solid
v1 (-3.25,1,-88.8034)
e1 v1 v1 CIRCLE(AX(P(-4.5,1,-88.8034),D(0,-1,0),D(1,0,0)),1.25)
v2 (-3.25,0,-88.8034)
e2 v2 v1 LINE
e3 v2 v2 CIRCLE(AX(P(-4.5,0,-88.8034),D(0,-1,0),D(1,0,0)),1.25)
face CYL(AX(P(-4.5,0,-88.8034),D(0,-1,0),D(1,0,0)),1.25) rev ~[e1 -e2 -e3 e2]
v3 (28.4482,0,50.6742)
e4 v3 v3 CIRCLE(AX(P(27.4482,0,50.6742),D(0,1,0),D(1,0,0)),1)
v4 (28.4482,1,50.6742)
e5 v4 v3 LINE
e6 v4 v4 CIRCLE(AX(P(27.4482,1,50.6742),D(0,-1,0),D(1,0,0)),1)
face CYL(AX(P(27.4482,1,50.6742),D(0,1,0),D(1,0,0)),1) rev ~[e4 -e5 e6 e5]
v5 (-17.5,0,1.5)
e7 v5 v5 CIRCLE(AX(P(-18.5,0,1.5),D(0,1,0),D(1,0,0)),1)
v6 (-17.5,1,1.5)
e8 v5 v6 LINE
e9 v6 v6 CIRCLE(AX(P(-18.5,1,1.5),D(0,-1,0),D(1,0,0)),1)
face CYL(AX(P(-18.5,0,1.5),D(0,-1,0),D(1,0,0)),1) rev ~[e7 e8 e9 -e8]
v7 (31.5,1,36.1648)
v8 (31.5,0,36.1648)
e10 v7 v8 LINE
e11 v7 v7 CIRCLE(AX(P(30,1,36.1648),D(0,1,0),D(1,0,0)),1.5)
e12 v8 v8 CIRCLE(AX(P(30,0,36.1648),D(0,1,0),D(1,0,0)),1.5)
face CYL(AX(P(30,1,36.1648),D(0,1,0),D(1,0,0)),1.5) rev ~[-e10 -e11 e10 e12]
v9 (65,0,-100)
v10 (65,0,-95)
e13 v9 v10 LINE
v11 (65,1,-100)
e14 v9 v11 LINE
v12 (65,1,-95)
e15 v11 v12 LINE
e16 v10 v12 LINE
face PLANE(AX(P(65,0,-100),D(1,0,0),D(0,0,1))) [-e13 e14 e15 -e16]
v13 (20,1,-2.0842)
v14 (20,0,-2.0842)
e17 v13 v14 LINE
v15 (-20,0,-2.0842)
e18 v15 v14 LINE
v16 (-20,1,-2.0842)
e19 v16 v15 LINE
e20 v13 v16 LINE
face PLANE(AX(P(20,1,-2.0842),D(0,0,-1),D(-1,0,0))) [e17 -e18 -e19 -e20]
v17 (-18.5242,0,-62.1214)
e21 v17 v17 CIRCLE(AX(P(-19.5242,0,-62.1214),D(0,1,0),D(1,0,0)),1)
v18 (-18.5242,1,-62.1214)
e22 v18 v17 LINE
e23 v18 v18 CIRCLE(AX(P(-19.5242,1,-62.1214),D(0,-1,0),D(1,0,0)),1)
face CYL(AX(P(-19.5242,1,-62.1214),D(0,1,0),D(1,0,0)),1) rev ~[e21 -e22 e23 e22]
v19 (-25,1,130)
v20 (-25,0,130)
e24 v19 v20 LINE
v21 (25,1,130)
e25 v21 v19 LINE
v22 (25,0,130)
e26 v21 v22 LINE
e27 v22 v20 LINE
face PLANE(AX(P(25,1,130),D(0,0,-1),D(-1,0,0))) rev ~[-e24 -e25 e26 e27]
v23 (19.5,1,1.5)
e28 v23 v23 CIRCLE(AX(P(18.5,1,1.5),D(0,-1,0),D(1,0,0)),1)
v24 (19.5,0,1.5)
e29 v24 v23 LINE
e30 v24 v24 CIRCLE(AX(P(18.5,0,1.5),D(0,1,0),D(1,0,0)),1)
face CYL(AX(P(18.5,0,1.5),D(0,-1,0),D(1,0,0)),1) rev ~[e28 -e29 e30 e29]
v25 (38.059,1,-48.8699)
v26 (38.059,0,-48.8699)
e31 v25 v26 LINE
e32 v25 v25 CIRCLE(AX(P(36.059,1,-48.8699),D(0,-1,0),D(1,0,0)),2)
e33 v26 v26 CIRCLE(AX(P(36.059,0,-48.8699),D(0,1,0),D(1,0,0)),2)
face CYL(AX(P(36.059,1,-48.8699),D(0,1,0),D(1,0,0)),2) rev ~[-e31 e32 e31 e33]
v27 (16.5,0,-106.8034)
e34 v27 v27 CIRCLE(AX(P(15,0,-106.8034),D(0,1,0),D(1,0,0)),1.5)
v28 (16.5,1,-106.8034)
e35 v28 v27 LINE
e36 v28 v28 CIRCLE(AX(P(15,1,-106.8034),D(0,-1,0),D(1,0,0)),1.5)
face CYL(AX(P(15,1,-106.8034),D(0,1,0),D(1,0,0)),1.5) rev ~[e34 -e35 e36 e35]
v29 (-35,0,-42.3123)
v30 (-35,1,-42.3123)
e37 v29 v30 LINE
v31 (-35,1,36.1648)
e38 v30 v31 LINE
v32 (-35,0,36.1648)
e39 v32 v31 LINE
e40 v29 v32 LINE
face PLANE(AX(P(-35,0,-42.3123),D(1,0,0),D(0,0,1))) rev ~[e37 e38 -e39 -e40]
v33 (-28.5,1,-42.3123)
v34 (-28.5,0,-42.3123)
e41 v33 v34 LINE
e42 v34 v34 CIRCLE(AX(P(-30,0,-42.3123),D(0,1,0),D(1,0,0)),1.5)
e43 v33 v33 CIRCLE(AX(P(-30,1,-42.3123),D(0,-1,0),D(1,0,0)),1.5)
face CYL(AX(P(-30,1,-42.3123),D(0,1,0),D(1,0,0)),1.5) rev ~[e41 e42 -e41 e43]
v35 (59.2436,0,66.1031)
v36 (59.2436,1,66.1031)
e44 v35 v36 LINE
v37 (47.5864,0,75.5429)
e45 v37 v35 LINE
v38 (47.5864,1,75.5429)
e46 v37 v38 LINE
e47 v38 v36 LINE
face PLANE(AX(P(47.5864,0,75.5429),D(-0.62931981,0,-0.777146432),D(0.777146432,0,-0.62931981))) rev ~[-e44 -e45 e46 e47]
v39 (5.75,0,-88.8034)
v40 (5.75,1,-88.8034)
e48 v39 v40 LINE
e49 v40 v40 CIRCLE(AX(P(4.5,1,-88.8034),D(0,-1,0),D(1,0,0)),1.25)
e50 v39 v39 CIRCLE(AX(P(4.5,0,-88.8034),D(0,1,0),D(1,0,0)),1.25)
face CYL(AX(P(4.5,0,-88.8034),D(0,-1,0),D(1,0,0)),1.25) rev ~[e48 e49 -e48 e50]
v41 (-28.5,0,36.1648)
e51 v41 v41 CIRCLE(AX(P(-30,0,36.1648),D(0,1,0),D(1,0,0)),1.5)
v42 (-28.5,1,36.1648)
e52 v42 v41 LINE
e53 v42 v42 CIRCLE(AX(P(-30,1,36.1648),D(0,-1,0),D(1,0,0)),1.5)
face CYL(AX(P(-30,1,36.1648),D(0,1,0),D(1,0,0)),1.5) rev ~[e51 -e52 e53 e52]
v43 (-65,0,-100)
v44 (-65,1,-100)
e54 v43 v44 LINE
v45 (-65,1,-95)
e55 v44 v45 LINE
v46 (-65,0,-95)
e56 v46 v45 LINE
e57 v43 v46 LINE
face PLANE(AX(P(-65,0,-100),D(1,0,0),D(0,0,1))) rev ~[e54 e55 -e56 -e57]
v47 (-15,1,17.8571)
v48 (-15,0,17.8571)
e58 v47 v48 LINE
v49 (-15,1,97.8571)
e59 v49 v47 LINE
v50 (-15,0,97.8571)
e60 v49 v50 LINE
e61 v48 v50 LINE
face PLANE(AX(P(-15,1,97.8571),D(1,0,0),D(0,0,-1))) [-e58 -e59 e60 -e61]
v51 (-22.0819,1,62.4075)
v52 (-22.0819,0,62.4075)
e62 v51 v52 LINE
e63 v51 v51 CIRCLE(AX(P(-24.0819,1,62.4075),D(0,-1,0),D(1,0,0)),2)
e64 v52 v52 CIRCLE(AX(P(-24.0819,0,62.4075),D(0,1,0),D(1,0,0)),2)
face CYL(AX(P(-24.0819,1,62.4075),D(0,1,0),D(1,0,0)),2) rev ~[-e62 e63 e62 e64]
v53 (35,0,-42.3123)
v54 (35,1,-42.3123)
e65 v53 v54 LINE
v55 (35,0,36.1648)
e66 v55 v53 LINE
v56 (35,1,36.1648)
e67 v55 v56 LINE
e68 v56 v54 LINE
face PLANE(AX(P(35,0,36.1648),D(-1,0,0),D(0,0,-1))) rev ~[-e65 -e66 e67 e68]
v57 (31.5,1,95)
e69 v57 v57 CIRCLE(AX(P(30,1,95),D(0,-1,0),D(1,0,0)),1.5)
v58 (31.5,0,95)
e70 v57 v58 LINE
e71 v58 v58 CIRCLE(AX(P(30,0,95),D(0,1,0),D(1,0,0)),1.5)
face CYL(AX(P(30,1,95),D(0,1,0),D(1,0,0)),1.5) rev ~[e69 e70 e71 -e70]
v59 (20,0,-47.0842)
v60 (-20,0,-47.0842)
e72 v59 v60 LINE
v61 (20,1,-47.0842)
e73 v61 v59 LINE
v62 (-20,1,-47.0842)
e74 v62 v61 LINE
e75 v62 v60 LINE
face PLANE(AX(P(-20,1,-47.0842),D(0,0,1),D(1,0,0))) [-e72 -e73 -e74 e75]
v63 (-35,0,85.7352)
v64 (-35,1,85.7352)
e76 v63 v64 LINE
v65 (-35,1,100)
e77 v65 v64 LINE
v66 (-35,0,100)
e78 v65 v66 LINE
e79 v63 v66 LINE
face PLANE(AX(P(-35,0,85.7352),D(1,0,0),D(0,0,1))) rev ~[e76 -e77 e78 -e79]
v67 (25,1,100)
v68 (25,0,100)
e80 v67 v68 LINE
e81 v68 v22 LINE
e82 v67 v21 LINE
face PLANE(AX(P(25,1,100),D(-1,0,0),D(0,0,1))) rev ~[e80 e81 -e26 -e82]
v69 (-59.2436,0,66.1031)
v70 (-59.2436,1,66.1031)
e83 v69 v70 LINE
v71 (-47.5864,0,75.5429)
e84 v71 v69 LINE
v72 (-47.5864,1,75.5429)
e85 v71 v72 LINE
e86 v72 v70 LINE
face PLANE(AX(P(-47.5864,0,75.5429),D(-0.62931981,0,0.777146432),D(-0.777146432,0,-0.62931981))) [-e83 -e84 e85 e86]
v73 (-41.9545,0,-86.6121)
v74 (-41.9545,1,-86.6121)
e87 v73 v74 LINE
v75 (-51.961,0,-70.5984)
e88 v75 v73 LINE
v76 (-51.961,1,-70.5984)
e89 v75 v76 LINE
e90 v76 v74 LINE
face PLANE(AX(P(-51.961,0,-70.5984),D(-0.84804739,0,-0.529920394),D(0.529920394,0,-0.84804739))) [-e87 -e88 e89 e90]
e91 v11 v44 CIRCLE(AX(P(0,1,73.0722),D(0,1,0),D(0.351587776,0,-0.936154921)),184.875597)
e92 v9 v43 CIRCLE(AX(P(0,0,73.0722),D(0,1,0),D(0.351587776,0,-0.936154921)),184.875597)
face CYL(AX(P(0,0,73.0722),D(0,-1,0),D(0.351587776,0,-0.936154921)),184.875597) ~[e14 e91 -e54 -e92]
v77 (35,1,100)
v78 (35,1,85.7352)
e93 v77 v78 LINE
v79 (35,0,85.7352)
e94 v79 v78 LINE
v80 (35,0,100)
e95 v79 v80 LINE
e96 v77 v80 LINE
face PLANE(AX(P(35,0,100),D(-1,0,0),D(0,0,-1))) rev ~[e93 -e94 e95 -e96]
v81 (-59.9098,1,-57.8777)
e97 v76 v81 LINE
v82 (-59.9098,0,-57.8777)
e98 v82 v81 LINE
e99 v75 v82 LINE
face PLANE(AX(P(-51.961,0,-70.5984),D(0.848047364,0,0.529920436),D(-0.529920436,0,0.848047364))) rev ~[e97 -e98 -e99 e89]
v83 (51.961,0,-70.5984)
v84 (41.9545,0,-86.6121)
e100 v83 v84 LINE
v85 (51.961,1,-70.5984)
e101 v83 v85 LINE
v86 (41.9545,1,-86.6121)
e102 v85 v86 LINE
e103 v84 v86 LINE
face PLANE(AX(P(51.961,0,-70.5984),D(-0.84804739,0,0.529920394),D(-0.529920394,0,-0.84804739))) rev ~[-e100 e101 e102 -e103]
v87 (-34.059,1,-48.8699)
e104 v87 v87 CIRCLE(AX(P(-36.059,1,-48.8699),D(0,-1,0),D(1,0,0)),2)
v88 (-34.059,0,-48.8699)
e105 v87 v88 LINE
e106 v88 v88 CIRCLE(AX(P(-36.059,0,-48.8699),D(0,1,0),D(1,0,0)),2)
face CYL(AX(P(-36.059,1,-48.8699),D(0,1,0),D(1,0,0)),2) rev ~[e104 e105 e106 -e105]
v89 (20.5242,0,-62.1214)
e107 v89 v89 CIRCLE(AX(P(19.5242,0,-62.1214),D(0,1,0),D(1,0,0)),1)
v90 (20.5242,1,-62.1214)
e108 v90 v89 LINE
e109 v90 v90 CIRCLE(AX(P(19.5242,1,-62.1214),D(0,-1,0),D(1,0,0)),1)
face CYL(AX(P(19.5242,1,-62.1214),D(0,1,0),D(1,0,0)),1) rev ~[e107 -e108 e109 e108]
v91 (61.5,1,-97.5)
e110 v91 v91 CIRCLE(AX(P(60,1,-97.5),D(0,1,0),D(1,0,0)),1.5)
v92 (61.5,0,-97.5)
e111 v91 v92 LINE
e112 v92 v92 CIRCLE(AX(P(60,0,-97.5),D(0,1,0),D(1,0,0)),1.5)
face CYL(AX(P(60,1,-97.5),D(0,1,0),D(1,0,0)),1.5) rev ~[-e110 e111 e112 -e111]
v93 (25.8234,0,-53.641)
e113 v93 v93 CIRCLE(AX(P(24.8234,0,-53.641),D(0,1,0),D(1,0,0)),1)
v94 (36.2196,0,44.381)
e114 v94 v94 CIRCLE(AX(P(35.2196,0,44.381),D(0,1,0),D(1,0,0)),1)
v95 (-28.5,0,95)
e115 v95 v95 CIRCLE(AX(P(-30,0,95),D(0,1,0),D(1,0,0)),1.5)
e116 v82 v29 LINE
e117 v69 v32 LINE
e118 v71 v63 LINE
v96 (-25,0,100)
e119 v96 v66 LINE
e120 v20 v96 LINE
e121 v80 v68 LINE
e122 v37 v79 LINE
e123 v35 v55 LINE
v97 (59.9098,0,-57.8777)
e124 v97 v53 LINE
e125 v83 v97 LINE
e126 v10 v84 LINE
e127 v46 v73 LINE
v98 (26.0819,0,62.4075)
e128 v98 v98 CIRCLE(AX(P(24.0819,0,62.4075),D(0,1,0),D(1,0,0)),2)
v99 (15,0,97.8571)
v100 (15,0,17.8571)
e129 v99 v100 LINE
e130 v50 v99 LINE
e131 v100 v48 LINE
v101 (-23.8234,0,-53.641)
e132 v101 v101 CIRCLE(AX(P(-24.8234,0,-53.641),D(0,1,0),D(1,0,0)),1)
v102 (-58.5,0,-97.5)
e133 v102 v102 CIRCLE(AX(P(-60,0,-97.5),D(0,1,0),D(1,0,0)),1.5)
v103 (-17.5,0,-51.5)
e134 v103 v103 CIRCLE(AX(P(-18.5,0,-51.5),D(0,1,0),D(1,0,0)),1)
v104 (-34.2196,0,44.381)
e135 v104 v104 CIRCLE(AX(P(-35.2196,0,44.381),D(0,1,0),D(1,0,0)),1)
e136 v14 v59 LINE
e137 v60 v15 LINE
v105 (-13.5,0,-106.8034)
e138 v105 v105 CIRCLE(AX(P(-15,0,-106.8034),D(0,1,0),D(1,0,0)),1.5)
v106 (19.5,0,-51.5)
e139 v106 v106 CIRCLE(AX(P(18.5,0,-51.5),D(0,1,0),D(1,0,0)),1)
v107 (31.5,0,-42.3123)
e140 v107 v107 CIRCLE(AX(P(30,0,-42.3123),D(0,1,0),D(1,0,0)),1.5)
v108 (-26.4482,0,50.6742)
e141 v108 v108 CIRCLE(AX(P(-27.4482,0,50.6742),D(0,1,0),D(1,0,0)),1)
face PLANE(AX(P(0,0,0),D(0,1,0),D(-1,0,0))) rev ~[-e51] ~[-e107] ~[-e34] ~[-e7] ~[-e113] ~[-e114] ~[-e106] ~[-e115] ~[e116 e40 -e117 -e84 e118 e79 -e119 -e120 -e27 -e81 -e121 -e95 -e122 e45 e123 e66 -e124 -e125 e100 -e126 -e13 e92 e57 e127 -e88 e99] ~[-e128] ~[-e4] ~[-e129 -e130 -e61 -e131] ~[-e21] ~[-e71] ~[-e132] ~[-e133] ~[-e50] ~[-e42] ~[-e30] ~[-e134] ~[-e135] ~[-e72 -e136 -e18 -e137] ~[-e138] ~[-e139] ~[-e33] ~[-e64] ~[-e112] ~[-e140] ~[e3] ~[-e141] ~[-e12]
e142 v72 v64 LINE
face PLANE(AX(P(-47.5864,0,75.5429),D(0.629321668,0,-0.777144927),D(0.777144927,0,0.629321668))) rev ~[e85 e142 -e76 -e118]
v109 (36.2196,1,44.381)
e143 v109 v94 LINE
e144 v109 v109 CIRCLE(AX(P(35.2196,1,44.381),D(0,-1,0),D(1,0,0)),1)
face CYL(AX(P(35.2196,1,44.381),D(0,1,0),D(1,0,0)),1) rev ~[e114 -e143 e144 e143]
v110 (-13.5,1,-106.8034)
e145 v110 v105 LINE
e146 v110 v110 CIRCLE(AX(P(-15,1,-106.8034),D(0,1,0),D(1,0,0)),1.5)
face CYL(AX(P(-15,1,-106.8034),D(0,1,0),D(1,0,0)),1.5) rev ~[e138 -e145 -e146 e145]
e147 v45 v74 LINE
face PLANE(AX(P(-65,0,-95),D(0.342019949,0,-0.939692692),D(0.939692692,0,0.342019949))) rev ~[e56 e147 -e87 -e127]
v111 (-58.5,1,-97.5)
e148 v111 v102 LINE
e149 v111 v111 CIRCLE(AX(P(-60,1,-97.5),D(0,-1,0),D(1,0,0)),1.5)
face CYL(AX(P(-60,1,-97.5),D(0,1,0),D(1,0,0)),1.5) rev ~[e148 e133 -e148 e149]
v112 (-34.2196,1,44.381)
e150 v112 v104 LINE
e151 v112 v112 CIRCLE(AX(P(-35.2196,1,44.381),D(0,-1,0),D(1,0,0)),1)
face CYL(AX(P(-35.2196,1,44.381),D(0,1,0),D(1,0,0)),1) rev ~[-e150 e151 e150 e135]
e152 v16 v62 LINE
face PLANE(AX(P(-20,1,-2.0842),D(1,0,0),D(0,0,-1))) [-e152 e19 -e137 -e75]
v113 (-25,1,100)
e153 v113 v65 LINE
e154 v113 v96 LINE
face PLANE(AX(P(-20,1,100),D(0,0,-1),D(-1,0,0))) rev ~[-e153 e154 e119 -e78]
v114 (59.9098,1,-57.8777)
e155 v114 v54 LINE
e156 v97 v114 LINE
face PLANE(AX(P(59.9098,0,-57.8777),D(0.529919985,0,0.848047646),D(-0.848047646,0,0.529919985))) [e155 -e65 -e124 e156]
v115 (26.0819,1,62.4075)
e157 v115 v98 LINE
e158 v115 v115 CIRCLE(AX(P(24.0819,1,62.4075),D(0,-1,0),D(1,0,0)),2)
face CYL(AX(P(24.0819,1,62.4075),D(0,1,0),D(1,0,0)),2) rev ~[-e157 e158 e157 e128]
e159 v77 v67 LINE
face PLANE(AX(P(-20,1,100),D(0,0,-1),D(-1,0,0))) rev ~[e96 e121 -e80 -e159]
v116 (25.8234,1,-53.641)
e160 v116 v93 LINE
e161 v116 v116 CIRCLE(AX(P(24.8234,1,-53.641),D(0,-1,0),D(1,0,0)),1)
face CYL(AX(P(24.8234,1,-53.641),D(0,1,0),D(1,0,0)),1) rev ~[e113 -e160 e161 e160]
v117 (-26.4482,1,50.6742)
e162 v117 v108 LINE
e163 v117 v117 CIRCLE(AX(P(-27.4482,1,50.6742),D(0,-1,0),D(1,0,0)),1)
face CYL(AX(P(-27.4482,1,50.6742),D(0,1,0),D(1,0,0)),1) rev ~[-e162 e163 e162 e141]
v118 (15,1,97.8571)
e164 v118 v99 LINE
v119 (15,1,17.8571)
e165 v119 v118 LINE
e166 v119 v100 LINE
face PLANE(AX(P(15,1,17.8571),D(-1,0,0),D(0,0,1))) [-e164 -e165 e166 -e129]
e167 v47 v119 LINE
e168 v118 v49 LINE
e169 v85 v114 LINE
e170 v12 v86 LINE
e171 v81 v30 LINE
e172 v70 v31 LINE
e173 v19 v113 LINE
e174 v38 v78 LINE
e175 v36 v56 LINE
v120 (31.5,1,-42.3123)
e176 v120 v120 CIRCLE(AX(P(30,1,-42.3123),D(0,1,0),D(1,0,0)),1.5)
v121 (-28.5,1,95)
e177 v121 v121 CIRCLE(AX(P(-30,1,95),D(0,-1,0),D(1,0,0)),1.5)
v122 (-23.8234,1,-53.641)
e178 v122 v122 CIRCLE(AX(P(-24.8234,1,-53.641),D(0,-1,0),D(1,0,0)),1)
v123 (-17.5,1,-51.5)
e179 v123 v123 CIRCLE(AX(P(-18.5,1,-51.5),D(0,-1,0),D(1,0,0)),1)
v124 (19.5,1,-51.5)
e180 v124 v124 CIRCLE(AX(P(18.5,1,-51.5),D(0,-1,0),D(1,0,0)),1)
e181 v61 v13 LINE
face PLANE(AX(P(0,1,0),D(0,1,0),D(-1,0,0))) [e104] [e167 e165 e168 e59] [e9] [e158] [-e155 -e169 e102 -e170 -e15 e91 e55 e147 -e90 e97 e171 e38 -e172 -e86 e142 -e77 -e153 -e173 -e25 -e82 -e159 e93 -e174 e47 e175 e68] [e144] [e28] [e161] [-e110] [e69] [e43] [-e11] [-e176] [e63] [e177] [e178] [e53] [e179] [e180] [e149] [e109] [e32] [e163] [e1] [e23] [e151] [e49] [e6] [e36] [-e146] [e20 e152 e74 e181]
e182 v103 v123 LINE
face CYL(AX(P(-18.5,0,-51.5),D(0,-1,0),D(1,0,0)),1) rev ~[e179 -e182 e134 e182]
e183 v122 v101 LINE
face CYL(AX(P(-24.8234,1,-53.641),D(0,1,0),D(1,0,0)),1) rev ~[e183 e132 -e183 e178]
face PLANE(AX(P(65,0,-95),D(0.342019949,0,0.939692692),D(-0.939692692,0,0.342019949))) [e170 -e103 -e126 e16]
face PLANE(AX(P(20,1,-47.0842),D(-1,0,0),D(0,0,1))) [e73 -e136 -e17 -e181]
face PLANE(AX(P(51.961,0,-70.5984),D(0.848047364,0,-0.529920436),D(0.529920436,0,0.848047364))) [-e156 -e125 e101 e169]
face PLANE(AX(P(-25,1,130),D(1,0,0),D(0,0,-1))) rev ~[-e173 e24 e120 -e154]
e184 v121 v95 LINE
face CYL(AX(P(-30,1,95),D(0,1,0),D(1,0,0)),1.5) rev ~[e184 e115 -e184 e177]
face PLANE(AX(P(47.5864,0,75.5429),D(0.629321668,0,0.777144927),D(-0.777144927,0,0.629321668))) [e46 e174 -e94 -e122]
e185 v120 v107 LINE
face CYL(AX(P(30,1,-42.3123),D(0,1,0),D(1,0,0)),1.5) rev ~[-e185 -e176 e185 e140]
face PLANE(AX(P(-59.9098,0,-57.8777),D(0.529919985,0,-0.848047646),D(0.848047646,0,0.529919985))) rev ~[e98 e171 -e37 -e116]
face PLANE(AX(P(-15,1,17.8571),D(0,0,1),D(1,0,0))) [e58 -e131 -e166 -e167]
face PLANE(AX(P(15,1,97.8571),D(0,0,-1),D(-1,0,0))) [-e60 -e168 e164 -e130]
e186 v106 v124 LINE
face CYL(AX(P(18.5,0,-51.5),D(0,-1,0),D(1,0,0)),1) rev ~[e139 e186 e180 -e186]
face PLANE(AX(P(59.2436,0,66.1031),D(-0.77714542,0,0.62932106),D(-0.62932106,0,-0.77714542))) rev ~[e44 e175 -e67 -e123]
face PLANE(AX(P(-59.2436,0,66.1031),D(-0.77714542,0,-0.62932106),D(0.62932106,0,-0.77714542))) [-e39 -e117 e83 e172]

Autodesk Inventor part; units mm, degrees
ref_plane "YZ Plane" through (0, 0, 0) normal (1, 0, 0) x (0, 1, 0)
ref_plane "XZ Plane" through (0, 0, 0) normal (0, 1, 0) x (-1, 0, 0)
ref_plane "XY Plane" through (0, 0, 0) normal (0, 0, 1) x (1, 0, 0)
sketch "Sketch1" plane through (0, 0, 0) normal (0, 1, 0) x (-1, 0, 0)
  circle A0 centre (0, 0) radius 165
  line L0 (35, 100) -> (-35, 100)
  line L1 (-35, 100) -> (-35, -100)
  line L2 (-35, -100) -> (35, -100)
  line L3 (35, -100) -> (35, 100)
  line L4 (35, 100) -> (-35, -100) construction
  line L5 (-35, 100) -> (35, -100) construction
  line L6 (35, -100) -> (65, -100)
  line L7 (-35, -100) -> (-65, -100)
  arc A1 (-65, -100) -> (65, -100) centre (0, 73.0722) ccw
  line L8 (120, 113.2475) -> (-120, -113.2475) construction
  line L9 (-120, 113.2475) -> (120, -113.2475) construction
  line L10 (35, -100) -> (35, -60)
  line L11 (-95, -134.9074) -> (95, 134.9074) construction
  line L12 (95, -134.9074) -> (-95, 134.9074) construction
  line L13 (65, -100) -> (65, -95)
  line L14 (65, -95) -> (35, -84.0809)
  line L15 (-65, -100) -> (-65, -95)
  line L16 (-65, -95) -> (-35, -84.0809)
  line L17 (35, -60) -> (51.961, -70.5984)
  line L18 (35, -60) -> (55, -60) construction
  line L19 (51.961, -70.5984) -> (41.9545, -86.6121)
  line L20 (51.961, -70.5984) -> (70.844, -70.5984) construction
  line L21 (51.961, -70.5984) -> (59.9098, -57.8777)
  line L22 (59.9098, -57.8777) -> (35, -42.3123)
  line L23 (-35, -100) -> (-35, -60)
  line L24 (-35, -60) -> (-51.961, -70.5984)
  line L25 (-35, -60) -> (-15, -60) construction
  line L26 (-51.961, -70.5984) -> (-41.9545, -86.6121)
  line L27 (-51.961, -70.5984) -> (-59.9098, -57.8777)
  line L28 (-59.9098, -57.8777) -> (-35, -42.3123)
  line L29 (-35, 100) -> (-35, 60)
  line L30 (35, 100) -> (35, 60)
  line L31 (-35, 60) -> (-47.5864, 75.5429)
  line L32 (-35, 60) -> (-15, 60) construction
  line L33 (35, 60) -> (47.5864, 75.5429)
  line L34 (35, 60) -> (55, 60) construction
  line L35 (47.5864, 75.5429) -> (35, 85.7352)
  line L36 (47.5864, 75.5429) -> (59.2436, 66.1031)
  line L37 (47.5864, 75.5429) -> (62.5864, 75.5429) construction
  line L38 (59.2436, 66.1031) -> (35, 36.1648)
  line L39 (35, 100) -> (35, 135)
  line L40 (35, 135) -> (20, 135)
  line L41 (20, 135) -> (20, 100)
  line L42 (-35, 100) -> (-35, 135)
  line L43 (-35, 135) -> (-20, 135)
  line L44 (-20, 135) -> (-20, 100)
  line L45 (-59.2436, 66.1031) -> (-20.7201, 66.1031) construction
  line L46 (-47.5864, 75.5429) -> (-35, 85.7352)
  line L47 (-47.5864, 75.5429) -> (-31.3907, 75.5429) construction
  line L48 (-47.5864, 75.5429) -> (-59.2436, 66.1031)
  line L49 (-47.5864, 75.5429) -> (-32.5864, 75.5429) construction
  line L50 (-59.2436, 66.1031) -> (-35, 36.1648)
  dimension "d0" = 330
  dimension "d2" = 70
  dimension "d3" = 200
  dimension "d4" = 30
  dimension "d5" = 30
  dimension "d6" = 240
  dimension "d8" = 40
  dimension "d9" = 190
  dimension "d10" = 5
  dimension "d11" = 110
  dimension "d12" = 5
  dimension "d13" = 110
  dimension "d14" = 20
  dimension "d15" = 32
  dimension "d16" = 122
  dimension "d17" = 15
  dimension "d18" = 40
  dimension "d19" = 20
  dimension "d20" = 148
  dimension "d21" = 90
  dimension "d22" = 15
  dimension "d23" = 40
  dimension "d24" = 40
  dimension "d25" = 20
  dimension "d26" = 129
  dimension "d29" = 20
  dimension "d30" = 51
  dimension "d31" = 15
  dimension "d32" = 39
  dimension "d33" = 90
  dimension "d34" = 35
  dimension "d35" = 15
  dimension "d36" = 90
  dimension "d37" = 35
  dimension "d38" = 15
  dimension "d39" = 90
  dimension "d41" = 39
  dimension "d42" = 15
  dimension "d43" = 141
  dimension "d44" = 90
extrude "Extrusion1" add sketch "Sketch1" along normal blind 1 contours L3 L2 L1 L0 | L0 L41 L40 L39 | L35 L33 L3 | L0 L42 L43 L44 | L33 L36 L38 L3 | L1 L31 L46 | L22 L21 L17 L3 | L1 L50 L48 L31 | L17 L19 L14 L3 | L14 L13 L6 L3 | L1 L24 L27 L28 | L6 A1 L7 L2 | L1 L16 L26 L24 | L7 L15 L16 L1
sketch "Sketch2" plane through (0, 1, 0) normal (0, 1, 0) x (1, 0, 0)
  line L0 (-59.9098, 57.8777) -> (-35, 42.3123) projected
  line L1 (-59.9098, 57.8777) -> (-51.961, 70.5984)
  line L2 (-41.9545, 86.6121) -> (-59.9098, 57.8777) projected
  line L3 (-51.961, 70.5984) -> (-30.7598, 57.3504)
  line L4 (-30.7598, 57.3504) -> (-36.059, 48.8699)
  line L5 (-30.7598, 57.3504) -> (-20.7598, 57.3504) construction
  circle A0 centre (-36.059, 48.8699) radius 2
  line L6 (35, 42.3123) -> (59.9098, 57.8777) projected
  line L7 (59.9098, 57.8777) -> (51.961, 70.5984)
  line L8 (59.9098, 57.8777) -> (41.9545, 86.6121) projected
  line L9 (51.961, 70.5984) -> (30.7598, 57.3504)
  line L10 (30.7598, 57.3504) -> (36.059, 48.8699)
  circle A1 centre (36.059, 48.8699) radius 2
  line L11 (35, -85.7352) -> (59.2436, -66.1031) projected
  line L12 (59.2436, -66.1031) -> (47.5864, -75.5429)
  line L13 (59.2436, -66.1031) -> (74.2436, -66.1031) construction
  line L14 (47.5864, -75.5429) -> (31.8534, -56.1143)
  line L15 (31.8534, -56.1143) -> (24.0819, -62.4075)
  circle A2 centre (24.0819, -62.4075) radius 2
  line L16 (-59.2436, -66.1031) -> (-35, -85.7352) projected
  line L17 (-59.2436, -66.1031) -> (-47.5864, -75.5429)
  line L18 (-59.2436, -66.1031) -> (-44.2436, -66.1031) construction
  line L19 (-47.5864, -75.5429) -> (-31.8534, -56.1143)
  line L20 (-31.8534, -56.1143) -> (-24.0819, -62.4075)
  circle A3 centre (-24.0819, -62.4075) radius 2
  point P0 (0, 0)
  dimension "d47" = 15
  dimension "d48" = 25
  dimension "d49" = 10
  dimension "d50" = 122
  dimension "d51" = 4
  dimension "d52" = 15
  dimension "d53" = 25
  dimension "d54" = 90
  dimension "d55" = 10
  dimension "d56" = 90
  dimension "d57" = 4
  dimension "d58" = 15
  dimension "d59" = 141
  dimension "d60" = 25
  dimension "d61" = 90
  dimension "d62" = 10
  dimension "d63" = 90
  dimension "d64" = 4
  dimension "d65" = 15
  dimension "d66" = 39
  dimension "d67" = 25
  dimension "d68" = 90
  dimension "d69" = 10
  dimension "d70" = 90
  dimension "d71" = 4
extrude "Extrusion2" cut sketch "Sketch2" against normal up to next
sketch "Sketch3" plane through (0, 1, 0) normal (0, 1, 0) x (1, 0, 0)
  line L0 (59.2436, -66.1031) -> (35, -36.1648) projected
  line L1 (59.2436, -66.1031) -> (40.9933, -43.5659)
  line L2 (40.9933, -43.5659) -> (39.1053, -41.2344)
  line L3 (39.1053, -41.2344) -> (35.2196, -44.381)
  line L4 (35.2196, -44.381) -> (27.4482, -50.6742)
  circle A0 centre (27.4482, -50.6742) radius 1
  circle A1 centre (35.2196, -44.381) radius 1
  point P0 (0, 0)
  dimension "d74" = 29
  dimension "d75" = 3
  dimension "d76" = 5
  dimension "d77" = 10
  dimension "d78" = 2
  dimension "d79" = 2
extrude "Extrusion3" cut sketch "Sketch3" against normal up to next
sketch "Sketch4" plane through (0, 1, 0) normal (0, 1, 0) x (1, 0, 0)
  line L0 (-59.2436, -66.1031) -> (-35, -85.7352) projected
  line L1 (-59.2436, -66.1031) -> (-39.1053, -41.2344)
  line L2 (-35, -36.1648) -> (-59.2436, -66.1031) projected
  line L3 (-39.1053, -41.2344) -> (-35.2196, -44.381)
  line L4 (-35.2196, -44.381) -> (-27.4482, -50.6742)
  circle A0 centre (-35.2196, -44.381) radius 1
  circle A1 centre (-27.4482, -50.6742) radius 1
  point P0 (0, 0)
  dimension "d82" = 32
  dimension "d83" = 5
  dimension "d84" = 90
  dimension "d85" = 10
  dimension "d86" = 180
  dimension "d87" = 2
  dimension "d88" = 2
extrude "Extrusion4" cut sketch "Sketch4" against normal up to next
sketch "Sketch5" plane through (0, 1, 0) normal (0, 1, 0) x (1, 0, 0)
  line L0 (59.9098, 57.8777) -> (41.9545, 86.6121) projected
  line L1 (59.9098, 57.8777) -> (44.0122, 83.3191)
  line L2 (59.9098, 57.8777) -> (89.9098, 57.8777) construction
  line L3 (44.0122, 83.3191) -> (16.8746, 66.3617)
  line L4 (16.8746, 66.3617) -> (19.5242, 62.1214)
  line L5 (19.5242, 62.1214) -> (24.8234, 53.641)
  circle A0 centre (19.5242, 62.1214) radius 1
  circle A1 centre (24.8234, 53.641) radius 1
  point P0 (0, 0)
  dimension "d91" = 30
  dimension "d92" = 122
  dimension "d93" = 32
  dimension "d94" = 90
  dimension "d95" = 5
  dimension "d96" = 10
  dimension "d97" = 2
  dimension "d98" = 2
extrude "Extrusion5" cut sketch "Sketch5" against normal up to next
sketch "Sketch6" plane through (0, 1, 0) normal (0, 1, 0) x (1, 0, 0)
  line L0 (-41.9545, 86.6121) -> (-59.9098, 57.8777) projected
  line L1 (-59.9098, 57.8777) -> (-44.0122, 83.3191)
  line L2 (-44.0122, 83.3191) -> (-16.8746, 66.3617)
  line L3 (-44.0122, 83.3191) -> (-12.0122, 83.3191) construction
  line L4 (-16.8746, 66.3617) -> (-19.5242, 62.1214)
  line L5 (-19.5242, 62.1214) -> (-24.8234, 53.641)
  circle A0 centre (-24.8234, 53.641) radius 1
  circle A1 centre (-19.5242, 62.1214) radius 1
  point P0 (0, 0)
  dimension "d101" = 30
  dimension "d106" = 32
  dimension "d107" = 32
  dimension "d108" = 5
  dimension "d109" = 10
  dimension "d110" = 2
  dimension "d111" = 2
extrude "Extrusion6" cut sketch "Sketch6" against normal up to next
sketch "Sketch7" plane through (0, 1, 0) normal (0, 1, 0) x (1, 0, 0)
  line L0 (-35, 42.3123) -> (-35, -36.1648) projected
  line L1 (-35, 42.3123) -> (-30, 42.3123)
  line L2 (35, -36.1648) -> (35, 42.3123) projected
  line L3 (35, 42.3123) -> (30, 42.3123)
  circle A0 centre (-30, 42.3123) radius 1.5
  circle A1 centre (30, 42.3123) radius 1.5
  point P0 (0, 0)
  dimension "d114" = 5
  dimension "d115" = 5
  dimension "d116" = 3
  dimension "d117" = 3
extrude "Extrusion7" cut sketch "Sketch7" against normal through all
sketch "Sketch8" plane through (0, 1, 0) normal (0, 1, 0) x (1, 0, 0)
  arc A0 (65, 100) -> (-65, 100) centre (0, -73.0722) ccw projected
  line L0 (0, 111.8034) -> (0, 106.8034)
  line L1 (0, 106.8034) -> (-15, 106.8034)
  line L2 (0, 106.8034) -> (15, 106.8034)
  circle A1 centre (-15, 106.8034) radius 1.5
  circle A2 centre (15, 106.8034) radius 1.5
  line L3 (-65, 100) -> (-65, 95) projected
  line L4 (-65, 97.5) -> (-60, 97.5)
  line L5 (65, 95) -> (65, 100) projected
  line L6 (65, 97.5) -> (60, 97.5)
  circle A3 centre (-60, 97.5) radius 1.5
  circle A4 centre (60, 97.5) radius 1.5
  point P0 (0, 0)
  dimension "d120" = 5
  dimension "d121" = 15
  dimension "d122" = 15
  dimension "d123" = 3
  dimension "d124" = 3
  dimension "d125" = 5
  dimension "d126" = 5
  dimension "d127" = 3
  dimension "d128" = 3
extrude "Extrusion8" cut sketch "Sketch8" against normal through all
sketch "Sketch9" plane through (0, 1, 0) normal (0, 1, 0) x (1, 0, 0)
  line L0 (-35, -135) -> (-20, -135) projected
  line L1 (-20, -100) -> (20, -100) projected
  line L2 (-35, -135) -> (-20, -135)
  line L3 (-20, -135) -> (-20, -100)
  line L4 (-20, -100) -> (-35, -100)
  line L5 (-35, -100) -> (-35, -135)
  line L6 (35, -135) -> (35, -85.7352) projected
  line L7 (20, -100) -> (35, -100)
  line L8 (35, -100) -> (35, -135)
  line L9 (35, -135) -> (20, -135)
  line L10 (20, -135) -> (20, -100)
  point P0 (0, 0)
extrude "Extrusion9" cut sketch "Sketch9" against normal up to next
sketch "Sketch10" plane through (0, 1, 0) normal (0, 1, 0) x (1, 0, 0)
  line L0 (-35, -36.1648) -> (-30, -36.1648)
  line L1 (35, -36.1648) -> (35, 42.3123) projected
  line L2 (35, -36.1648) -> (30, -36.1648)
  line L3 (35, -100) -> (35, -85.7352) projected
  line L4 (35, -100) -> (30, -100)
  line L5 (30, -100) -> (30, -95)
  line L6 (30, -95) -> (35, -95)
  line L7 (35, -95) -> (35, -100)
  line L8 (-35, -85.7352) -> (-35, -100) projected
  line L9 (-35, -100) -> (-30, -100)
  line L10 (-30, -100) -> (-30, -95)
  line L11 (-30, -95) -> (-35, -95)
  line L12 (-35, -95) -> (-35, -100)
  circle A0 centre (-30, -95) radius 1.5
  circle A1 centre (30, -95) radius 1.5
  circle A2 centre (30, -36.1648) radius 1.5
  circle A3 centre (-30, -36.1648) radius 1.5
  point P0 (0, 0)
  dimension "d133" = 5
  dimension "d134" = 5
  dimension "d135" = 5
  dimension "d136" = 5
  dimension "d137" = 5
  dimension "d138" = 5
  dimension "d139" = 3
  dimension "d140" = 3
  dimension "d141" = 3
  dimension "d142" = 3
extrude "Extrusion10" cut sketch "Sketch10" against normal through all contours A1 L5 L6 | L6 L5 A1 | A0 L10 L11 | L11 L10 A0 | A2 | A3
sketch "Sketch12" plane through (0, 0, 0) normal (0, -1, 0) x (1, 0, 0)
  line L0 (-18.5, 1.5) -> (18.5, 1.5)
  line L1 (18.5, 1.5) -> (18.5, -51.5)
  line L2 (18.5, -51.5) -> (-18.5, -51.5)
  line L3 (-18.5, -51.5) -> (-18.5, 1.5)
  line L4 (-18.5, 1.5) -> (18.5, -51.5) construction
  line L5 (18.5, 1.5) -> (-18.5, -51.5) construction
  circle A0 centre (18.5, 1.5) radius 1
  circle A1 centre (18.5, -51.5) radius 1
  circle A2 centre (-18.5, -51.5) radius 1
  circle A3 centre (-18.5, 1.5) radius 1
  point P0 (0, 0)
  point P1 (0, -25)
  dimension "d152" = 37
  dimension "d153" = 53
  dimension "d154" = 25
  dimension "d155" = 2
  dimension "d156" = 2
  dimension "d157" = 2
  dimension "d158" = 2
extrude "Extrusion12" cut sketch "Sketch12" against normal up to next contours L3 A3 L0 | L0 A3 L3 | A0 L1 L0 | L0 L1 A0 | A2 L2 L3 | L3 L2 A2 | A1 L2 L1 | L1 L2 A1
sketch "Sketch13" plane through (0, 0, 0) normal (0, -1, 0) x (1, 0, 0)
  arc A0 (-65, -100) -> (65, -100) centre (0, 73.0722) ccw projected
  line L0 (0, -111.8034) -> (0, -88.8034)
  line L1 (0, -88.8034) -> (4.5, -88.8034)
  line L2 (0, -88.8034) -> (-4.5, -88.8034)
  circle A1 centre (4.5, -88.8034) radius 1.25
  circle A2 centre (-4.5, -88.8034) radius 1.25
  point P0 (0, 0)
  dimension "d161" = 23
  dimension "d162" = 4.5
  dimension "d163" = 4.5
  dimension "d164" = 2.5
  dimension "d165" = 2.5
extrude "Extrusion13" cut sketch "Sketch13" against normal up to next
sketch "Sketch14" plane through (0, 1, 0) normal (0, 1, 0) x (1, 0, 0)
  line L0 (-35, -85.7352) -> (-35, -100) projected
  line L1 (-35, -100) -> (-25, -100)
  line L2 (35, -100) -> (-35, -100) projected
  line L3 (-25, -100) -> (25, -100)
  line L4 (25, -100) -> (25, -130)
  line L5 (25, -130) -> (-25, -130)
  line L6 (-25, -130) -> (-25, -100)
  point P0 (0, 0)
  dimension "d168" = 10
  dimension "d169" = 50
  dimension "d170" = 30
extrude "Extrusion14" add sketch "Sketch14" against normal blind 1
sketch "Sketch15" plane through (0, 1, 0) normal (0, 1, 0) x (1, 0, 0)
  line L0 (-20, 47.0842) -> (20, 47.0842)
  line L1 (20, 47.0842) -> (20, 2.0842)
  line L2 (20, 2.0842) -> (-20, 2.0842)
  line L3 (-20, 2.0842) -> (-20, 47.0842)
  line L4 (-20, 47.0842) -> (20, 2.0842) construction
  line L5 (20, 47.0842) -> (-20, 2.0842) construction
  line L6 (-15, -17.8571) -> (15, -17.8571)
  line L7 (15, -17.8571) -> (15, -97.8571)
  line L8 (15, -97.8571) -> (-15, -97.8571)
  line L9 (-15, -97.8571) -> (-15, -17.8571)
  line L10 (-15, -17.8571) -> (15, -97.8571) construction
  line L11 (15, -17.8571) -> (-15, -97.8571) construction
  point P0 (0, 0)
  point P1 (0, 24.5842)
  point P2 (0, -57.8571)
  dimension "d173" = 40
  dimension "d174" = 45
  dimension "d175" = 30
  dimension "d176" = 80
extrude "Extrusion15" cut sketch "Sketch15" against normal up to next
properties part number "baseplate" material "Nylon 6/6"
